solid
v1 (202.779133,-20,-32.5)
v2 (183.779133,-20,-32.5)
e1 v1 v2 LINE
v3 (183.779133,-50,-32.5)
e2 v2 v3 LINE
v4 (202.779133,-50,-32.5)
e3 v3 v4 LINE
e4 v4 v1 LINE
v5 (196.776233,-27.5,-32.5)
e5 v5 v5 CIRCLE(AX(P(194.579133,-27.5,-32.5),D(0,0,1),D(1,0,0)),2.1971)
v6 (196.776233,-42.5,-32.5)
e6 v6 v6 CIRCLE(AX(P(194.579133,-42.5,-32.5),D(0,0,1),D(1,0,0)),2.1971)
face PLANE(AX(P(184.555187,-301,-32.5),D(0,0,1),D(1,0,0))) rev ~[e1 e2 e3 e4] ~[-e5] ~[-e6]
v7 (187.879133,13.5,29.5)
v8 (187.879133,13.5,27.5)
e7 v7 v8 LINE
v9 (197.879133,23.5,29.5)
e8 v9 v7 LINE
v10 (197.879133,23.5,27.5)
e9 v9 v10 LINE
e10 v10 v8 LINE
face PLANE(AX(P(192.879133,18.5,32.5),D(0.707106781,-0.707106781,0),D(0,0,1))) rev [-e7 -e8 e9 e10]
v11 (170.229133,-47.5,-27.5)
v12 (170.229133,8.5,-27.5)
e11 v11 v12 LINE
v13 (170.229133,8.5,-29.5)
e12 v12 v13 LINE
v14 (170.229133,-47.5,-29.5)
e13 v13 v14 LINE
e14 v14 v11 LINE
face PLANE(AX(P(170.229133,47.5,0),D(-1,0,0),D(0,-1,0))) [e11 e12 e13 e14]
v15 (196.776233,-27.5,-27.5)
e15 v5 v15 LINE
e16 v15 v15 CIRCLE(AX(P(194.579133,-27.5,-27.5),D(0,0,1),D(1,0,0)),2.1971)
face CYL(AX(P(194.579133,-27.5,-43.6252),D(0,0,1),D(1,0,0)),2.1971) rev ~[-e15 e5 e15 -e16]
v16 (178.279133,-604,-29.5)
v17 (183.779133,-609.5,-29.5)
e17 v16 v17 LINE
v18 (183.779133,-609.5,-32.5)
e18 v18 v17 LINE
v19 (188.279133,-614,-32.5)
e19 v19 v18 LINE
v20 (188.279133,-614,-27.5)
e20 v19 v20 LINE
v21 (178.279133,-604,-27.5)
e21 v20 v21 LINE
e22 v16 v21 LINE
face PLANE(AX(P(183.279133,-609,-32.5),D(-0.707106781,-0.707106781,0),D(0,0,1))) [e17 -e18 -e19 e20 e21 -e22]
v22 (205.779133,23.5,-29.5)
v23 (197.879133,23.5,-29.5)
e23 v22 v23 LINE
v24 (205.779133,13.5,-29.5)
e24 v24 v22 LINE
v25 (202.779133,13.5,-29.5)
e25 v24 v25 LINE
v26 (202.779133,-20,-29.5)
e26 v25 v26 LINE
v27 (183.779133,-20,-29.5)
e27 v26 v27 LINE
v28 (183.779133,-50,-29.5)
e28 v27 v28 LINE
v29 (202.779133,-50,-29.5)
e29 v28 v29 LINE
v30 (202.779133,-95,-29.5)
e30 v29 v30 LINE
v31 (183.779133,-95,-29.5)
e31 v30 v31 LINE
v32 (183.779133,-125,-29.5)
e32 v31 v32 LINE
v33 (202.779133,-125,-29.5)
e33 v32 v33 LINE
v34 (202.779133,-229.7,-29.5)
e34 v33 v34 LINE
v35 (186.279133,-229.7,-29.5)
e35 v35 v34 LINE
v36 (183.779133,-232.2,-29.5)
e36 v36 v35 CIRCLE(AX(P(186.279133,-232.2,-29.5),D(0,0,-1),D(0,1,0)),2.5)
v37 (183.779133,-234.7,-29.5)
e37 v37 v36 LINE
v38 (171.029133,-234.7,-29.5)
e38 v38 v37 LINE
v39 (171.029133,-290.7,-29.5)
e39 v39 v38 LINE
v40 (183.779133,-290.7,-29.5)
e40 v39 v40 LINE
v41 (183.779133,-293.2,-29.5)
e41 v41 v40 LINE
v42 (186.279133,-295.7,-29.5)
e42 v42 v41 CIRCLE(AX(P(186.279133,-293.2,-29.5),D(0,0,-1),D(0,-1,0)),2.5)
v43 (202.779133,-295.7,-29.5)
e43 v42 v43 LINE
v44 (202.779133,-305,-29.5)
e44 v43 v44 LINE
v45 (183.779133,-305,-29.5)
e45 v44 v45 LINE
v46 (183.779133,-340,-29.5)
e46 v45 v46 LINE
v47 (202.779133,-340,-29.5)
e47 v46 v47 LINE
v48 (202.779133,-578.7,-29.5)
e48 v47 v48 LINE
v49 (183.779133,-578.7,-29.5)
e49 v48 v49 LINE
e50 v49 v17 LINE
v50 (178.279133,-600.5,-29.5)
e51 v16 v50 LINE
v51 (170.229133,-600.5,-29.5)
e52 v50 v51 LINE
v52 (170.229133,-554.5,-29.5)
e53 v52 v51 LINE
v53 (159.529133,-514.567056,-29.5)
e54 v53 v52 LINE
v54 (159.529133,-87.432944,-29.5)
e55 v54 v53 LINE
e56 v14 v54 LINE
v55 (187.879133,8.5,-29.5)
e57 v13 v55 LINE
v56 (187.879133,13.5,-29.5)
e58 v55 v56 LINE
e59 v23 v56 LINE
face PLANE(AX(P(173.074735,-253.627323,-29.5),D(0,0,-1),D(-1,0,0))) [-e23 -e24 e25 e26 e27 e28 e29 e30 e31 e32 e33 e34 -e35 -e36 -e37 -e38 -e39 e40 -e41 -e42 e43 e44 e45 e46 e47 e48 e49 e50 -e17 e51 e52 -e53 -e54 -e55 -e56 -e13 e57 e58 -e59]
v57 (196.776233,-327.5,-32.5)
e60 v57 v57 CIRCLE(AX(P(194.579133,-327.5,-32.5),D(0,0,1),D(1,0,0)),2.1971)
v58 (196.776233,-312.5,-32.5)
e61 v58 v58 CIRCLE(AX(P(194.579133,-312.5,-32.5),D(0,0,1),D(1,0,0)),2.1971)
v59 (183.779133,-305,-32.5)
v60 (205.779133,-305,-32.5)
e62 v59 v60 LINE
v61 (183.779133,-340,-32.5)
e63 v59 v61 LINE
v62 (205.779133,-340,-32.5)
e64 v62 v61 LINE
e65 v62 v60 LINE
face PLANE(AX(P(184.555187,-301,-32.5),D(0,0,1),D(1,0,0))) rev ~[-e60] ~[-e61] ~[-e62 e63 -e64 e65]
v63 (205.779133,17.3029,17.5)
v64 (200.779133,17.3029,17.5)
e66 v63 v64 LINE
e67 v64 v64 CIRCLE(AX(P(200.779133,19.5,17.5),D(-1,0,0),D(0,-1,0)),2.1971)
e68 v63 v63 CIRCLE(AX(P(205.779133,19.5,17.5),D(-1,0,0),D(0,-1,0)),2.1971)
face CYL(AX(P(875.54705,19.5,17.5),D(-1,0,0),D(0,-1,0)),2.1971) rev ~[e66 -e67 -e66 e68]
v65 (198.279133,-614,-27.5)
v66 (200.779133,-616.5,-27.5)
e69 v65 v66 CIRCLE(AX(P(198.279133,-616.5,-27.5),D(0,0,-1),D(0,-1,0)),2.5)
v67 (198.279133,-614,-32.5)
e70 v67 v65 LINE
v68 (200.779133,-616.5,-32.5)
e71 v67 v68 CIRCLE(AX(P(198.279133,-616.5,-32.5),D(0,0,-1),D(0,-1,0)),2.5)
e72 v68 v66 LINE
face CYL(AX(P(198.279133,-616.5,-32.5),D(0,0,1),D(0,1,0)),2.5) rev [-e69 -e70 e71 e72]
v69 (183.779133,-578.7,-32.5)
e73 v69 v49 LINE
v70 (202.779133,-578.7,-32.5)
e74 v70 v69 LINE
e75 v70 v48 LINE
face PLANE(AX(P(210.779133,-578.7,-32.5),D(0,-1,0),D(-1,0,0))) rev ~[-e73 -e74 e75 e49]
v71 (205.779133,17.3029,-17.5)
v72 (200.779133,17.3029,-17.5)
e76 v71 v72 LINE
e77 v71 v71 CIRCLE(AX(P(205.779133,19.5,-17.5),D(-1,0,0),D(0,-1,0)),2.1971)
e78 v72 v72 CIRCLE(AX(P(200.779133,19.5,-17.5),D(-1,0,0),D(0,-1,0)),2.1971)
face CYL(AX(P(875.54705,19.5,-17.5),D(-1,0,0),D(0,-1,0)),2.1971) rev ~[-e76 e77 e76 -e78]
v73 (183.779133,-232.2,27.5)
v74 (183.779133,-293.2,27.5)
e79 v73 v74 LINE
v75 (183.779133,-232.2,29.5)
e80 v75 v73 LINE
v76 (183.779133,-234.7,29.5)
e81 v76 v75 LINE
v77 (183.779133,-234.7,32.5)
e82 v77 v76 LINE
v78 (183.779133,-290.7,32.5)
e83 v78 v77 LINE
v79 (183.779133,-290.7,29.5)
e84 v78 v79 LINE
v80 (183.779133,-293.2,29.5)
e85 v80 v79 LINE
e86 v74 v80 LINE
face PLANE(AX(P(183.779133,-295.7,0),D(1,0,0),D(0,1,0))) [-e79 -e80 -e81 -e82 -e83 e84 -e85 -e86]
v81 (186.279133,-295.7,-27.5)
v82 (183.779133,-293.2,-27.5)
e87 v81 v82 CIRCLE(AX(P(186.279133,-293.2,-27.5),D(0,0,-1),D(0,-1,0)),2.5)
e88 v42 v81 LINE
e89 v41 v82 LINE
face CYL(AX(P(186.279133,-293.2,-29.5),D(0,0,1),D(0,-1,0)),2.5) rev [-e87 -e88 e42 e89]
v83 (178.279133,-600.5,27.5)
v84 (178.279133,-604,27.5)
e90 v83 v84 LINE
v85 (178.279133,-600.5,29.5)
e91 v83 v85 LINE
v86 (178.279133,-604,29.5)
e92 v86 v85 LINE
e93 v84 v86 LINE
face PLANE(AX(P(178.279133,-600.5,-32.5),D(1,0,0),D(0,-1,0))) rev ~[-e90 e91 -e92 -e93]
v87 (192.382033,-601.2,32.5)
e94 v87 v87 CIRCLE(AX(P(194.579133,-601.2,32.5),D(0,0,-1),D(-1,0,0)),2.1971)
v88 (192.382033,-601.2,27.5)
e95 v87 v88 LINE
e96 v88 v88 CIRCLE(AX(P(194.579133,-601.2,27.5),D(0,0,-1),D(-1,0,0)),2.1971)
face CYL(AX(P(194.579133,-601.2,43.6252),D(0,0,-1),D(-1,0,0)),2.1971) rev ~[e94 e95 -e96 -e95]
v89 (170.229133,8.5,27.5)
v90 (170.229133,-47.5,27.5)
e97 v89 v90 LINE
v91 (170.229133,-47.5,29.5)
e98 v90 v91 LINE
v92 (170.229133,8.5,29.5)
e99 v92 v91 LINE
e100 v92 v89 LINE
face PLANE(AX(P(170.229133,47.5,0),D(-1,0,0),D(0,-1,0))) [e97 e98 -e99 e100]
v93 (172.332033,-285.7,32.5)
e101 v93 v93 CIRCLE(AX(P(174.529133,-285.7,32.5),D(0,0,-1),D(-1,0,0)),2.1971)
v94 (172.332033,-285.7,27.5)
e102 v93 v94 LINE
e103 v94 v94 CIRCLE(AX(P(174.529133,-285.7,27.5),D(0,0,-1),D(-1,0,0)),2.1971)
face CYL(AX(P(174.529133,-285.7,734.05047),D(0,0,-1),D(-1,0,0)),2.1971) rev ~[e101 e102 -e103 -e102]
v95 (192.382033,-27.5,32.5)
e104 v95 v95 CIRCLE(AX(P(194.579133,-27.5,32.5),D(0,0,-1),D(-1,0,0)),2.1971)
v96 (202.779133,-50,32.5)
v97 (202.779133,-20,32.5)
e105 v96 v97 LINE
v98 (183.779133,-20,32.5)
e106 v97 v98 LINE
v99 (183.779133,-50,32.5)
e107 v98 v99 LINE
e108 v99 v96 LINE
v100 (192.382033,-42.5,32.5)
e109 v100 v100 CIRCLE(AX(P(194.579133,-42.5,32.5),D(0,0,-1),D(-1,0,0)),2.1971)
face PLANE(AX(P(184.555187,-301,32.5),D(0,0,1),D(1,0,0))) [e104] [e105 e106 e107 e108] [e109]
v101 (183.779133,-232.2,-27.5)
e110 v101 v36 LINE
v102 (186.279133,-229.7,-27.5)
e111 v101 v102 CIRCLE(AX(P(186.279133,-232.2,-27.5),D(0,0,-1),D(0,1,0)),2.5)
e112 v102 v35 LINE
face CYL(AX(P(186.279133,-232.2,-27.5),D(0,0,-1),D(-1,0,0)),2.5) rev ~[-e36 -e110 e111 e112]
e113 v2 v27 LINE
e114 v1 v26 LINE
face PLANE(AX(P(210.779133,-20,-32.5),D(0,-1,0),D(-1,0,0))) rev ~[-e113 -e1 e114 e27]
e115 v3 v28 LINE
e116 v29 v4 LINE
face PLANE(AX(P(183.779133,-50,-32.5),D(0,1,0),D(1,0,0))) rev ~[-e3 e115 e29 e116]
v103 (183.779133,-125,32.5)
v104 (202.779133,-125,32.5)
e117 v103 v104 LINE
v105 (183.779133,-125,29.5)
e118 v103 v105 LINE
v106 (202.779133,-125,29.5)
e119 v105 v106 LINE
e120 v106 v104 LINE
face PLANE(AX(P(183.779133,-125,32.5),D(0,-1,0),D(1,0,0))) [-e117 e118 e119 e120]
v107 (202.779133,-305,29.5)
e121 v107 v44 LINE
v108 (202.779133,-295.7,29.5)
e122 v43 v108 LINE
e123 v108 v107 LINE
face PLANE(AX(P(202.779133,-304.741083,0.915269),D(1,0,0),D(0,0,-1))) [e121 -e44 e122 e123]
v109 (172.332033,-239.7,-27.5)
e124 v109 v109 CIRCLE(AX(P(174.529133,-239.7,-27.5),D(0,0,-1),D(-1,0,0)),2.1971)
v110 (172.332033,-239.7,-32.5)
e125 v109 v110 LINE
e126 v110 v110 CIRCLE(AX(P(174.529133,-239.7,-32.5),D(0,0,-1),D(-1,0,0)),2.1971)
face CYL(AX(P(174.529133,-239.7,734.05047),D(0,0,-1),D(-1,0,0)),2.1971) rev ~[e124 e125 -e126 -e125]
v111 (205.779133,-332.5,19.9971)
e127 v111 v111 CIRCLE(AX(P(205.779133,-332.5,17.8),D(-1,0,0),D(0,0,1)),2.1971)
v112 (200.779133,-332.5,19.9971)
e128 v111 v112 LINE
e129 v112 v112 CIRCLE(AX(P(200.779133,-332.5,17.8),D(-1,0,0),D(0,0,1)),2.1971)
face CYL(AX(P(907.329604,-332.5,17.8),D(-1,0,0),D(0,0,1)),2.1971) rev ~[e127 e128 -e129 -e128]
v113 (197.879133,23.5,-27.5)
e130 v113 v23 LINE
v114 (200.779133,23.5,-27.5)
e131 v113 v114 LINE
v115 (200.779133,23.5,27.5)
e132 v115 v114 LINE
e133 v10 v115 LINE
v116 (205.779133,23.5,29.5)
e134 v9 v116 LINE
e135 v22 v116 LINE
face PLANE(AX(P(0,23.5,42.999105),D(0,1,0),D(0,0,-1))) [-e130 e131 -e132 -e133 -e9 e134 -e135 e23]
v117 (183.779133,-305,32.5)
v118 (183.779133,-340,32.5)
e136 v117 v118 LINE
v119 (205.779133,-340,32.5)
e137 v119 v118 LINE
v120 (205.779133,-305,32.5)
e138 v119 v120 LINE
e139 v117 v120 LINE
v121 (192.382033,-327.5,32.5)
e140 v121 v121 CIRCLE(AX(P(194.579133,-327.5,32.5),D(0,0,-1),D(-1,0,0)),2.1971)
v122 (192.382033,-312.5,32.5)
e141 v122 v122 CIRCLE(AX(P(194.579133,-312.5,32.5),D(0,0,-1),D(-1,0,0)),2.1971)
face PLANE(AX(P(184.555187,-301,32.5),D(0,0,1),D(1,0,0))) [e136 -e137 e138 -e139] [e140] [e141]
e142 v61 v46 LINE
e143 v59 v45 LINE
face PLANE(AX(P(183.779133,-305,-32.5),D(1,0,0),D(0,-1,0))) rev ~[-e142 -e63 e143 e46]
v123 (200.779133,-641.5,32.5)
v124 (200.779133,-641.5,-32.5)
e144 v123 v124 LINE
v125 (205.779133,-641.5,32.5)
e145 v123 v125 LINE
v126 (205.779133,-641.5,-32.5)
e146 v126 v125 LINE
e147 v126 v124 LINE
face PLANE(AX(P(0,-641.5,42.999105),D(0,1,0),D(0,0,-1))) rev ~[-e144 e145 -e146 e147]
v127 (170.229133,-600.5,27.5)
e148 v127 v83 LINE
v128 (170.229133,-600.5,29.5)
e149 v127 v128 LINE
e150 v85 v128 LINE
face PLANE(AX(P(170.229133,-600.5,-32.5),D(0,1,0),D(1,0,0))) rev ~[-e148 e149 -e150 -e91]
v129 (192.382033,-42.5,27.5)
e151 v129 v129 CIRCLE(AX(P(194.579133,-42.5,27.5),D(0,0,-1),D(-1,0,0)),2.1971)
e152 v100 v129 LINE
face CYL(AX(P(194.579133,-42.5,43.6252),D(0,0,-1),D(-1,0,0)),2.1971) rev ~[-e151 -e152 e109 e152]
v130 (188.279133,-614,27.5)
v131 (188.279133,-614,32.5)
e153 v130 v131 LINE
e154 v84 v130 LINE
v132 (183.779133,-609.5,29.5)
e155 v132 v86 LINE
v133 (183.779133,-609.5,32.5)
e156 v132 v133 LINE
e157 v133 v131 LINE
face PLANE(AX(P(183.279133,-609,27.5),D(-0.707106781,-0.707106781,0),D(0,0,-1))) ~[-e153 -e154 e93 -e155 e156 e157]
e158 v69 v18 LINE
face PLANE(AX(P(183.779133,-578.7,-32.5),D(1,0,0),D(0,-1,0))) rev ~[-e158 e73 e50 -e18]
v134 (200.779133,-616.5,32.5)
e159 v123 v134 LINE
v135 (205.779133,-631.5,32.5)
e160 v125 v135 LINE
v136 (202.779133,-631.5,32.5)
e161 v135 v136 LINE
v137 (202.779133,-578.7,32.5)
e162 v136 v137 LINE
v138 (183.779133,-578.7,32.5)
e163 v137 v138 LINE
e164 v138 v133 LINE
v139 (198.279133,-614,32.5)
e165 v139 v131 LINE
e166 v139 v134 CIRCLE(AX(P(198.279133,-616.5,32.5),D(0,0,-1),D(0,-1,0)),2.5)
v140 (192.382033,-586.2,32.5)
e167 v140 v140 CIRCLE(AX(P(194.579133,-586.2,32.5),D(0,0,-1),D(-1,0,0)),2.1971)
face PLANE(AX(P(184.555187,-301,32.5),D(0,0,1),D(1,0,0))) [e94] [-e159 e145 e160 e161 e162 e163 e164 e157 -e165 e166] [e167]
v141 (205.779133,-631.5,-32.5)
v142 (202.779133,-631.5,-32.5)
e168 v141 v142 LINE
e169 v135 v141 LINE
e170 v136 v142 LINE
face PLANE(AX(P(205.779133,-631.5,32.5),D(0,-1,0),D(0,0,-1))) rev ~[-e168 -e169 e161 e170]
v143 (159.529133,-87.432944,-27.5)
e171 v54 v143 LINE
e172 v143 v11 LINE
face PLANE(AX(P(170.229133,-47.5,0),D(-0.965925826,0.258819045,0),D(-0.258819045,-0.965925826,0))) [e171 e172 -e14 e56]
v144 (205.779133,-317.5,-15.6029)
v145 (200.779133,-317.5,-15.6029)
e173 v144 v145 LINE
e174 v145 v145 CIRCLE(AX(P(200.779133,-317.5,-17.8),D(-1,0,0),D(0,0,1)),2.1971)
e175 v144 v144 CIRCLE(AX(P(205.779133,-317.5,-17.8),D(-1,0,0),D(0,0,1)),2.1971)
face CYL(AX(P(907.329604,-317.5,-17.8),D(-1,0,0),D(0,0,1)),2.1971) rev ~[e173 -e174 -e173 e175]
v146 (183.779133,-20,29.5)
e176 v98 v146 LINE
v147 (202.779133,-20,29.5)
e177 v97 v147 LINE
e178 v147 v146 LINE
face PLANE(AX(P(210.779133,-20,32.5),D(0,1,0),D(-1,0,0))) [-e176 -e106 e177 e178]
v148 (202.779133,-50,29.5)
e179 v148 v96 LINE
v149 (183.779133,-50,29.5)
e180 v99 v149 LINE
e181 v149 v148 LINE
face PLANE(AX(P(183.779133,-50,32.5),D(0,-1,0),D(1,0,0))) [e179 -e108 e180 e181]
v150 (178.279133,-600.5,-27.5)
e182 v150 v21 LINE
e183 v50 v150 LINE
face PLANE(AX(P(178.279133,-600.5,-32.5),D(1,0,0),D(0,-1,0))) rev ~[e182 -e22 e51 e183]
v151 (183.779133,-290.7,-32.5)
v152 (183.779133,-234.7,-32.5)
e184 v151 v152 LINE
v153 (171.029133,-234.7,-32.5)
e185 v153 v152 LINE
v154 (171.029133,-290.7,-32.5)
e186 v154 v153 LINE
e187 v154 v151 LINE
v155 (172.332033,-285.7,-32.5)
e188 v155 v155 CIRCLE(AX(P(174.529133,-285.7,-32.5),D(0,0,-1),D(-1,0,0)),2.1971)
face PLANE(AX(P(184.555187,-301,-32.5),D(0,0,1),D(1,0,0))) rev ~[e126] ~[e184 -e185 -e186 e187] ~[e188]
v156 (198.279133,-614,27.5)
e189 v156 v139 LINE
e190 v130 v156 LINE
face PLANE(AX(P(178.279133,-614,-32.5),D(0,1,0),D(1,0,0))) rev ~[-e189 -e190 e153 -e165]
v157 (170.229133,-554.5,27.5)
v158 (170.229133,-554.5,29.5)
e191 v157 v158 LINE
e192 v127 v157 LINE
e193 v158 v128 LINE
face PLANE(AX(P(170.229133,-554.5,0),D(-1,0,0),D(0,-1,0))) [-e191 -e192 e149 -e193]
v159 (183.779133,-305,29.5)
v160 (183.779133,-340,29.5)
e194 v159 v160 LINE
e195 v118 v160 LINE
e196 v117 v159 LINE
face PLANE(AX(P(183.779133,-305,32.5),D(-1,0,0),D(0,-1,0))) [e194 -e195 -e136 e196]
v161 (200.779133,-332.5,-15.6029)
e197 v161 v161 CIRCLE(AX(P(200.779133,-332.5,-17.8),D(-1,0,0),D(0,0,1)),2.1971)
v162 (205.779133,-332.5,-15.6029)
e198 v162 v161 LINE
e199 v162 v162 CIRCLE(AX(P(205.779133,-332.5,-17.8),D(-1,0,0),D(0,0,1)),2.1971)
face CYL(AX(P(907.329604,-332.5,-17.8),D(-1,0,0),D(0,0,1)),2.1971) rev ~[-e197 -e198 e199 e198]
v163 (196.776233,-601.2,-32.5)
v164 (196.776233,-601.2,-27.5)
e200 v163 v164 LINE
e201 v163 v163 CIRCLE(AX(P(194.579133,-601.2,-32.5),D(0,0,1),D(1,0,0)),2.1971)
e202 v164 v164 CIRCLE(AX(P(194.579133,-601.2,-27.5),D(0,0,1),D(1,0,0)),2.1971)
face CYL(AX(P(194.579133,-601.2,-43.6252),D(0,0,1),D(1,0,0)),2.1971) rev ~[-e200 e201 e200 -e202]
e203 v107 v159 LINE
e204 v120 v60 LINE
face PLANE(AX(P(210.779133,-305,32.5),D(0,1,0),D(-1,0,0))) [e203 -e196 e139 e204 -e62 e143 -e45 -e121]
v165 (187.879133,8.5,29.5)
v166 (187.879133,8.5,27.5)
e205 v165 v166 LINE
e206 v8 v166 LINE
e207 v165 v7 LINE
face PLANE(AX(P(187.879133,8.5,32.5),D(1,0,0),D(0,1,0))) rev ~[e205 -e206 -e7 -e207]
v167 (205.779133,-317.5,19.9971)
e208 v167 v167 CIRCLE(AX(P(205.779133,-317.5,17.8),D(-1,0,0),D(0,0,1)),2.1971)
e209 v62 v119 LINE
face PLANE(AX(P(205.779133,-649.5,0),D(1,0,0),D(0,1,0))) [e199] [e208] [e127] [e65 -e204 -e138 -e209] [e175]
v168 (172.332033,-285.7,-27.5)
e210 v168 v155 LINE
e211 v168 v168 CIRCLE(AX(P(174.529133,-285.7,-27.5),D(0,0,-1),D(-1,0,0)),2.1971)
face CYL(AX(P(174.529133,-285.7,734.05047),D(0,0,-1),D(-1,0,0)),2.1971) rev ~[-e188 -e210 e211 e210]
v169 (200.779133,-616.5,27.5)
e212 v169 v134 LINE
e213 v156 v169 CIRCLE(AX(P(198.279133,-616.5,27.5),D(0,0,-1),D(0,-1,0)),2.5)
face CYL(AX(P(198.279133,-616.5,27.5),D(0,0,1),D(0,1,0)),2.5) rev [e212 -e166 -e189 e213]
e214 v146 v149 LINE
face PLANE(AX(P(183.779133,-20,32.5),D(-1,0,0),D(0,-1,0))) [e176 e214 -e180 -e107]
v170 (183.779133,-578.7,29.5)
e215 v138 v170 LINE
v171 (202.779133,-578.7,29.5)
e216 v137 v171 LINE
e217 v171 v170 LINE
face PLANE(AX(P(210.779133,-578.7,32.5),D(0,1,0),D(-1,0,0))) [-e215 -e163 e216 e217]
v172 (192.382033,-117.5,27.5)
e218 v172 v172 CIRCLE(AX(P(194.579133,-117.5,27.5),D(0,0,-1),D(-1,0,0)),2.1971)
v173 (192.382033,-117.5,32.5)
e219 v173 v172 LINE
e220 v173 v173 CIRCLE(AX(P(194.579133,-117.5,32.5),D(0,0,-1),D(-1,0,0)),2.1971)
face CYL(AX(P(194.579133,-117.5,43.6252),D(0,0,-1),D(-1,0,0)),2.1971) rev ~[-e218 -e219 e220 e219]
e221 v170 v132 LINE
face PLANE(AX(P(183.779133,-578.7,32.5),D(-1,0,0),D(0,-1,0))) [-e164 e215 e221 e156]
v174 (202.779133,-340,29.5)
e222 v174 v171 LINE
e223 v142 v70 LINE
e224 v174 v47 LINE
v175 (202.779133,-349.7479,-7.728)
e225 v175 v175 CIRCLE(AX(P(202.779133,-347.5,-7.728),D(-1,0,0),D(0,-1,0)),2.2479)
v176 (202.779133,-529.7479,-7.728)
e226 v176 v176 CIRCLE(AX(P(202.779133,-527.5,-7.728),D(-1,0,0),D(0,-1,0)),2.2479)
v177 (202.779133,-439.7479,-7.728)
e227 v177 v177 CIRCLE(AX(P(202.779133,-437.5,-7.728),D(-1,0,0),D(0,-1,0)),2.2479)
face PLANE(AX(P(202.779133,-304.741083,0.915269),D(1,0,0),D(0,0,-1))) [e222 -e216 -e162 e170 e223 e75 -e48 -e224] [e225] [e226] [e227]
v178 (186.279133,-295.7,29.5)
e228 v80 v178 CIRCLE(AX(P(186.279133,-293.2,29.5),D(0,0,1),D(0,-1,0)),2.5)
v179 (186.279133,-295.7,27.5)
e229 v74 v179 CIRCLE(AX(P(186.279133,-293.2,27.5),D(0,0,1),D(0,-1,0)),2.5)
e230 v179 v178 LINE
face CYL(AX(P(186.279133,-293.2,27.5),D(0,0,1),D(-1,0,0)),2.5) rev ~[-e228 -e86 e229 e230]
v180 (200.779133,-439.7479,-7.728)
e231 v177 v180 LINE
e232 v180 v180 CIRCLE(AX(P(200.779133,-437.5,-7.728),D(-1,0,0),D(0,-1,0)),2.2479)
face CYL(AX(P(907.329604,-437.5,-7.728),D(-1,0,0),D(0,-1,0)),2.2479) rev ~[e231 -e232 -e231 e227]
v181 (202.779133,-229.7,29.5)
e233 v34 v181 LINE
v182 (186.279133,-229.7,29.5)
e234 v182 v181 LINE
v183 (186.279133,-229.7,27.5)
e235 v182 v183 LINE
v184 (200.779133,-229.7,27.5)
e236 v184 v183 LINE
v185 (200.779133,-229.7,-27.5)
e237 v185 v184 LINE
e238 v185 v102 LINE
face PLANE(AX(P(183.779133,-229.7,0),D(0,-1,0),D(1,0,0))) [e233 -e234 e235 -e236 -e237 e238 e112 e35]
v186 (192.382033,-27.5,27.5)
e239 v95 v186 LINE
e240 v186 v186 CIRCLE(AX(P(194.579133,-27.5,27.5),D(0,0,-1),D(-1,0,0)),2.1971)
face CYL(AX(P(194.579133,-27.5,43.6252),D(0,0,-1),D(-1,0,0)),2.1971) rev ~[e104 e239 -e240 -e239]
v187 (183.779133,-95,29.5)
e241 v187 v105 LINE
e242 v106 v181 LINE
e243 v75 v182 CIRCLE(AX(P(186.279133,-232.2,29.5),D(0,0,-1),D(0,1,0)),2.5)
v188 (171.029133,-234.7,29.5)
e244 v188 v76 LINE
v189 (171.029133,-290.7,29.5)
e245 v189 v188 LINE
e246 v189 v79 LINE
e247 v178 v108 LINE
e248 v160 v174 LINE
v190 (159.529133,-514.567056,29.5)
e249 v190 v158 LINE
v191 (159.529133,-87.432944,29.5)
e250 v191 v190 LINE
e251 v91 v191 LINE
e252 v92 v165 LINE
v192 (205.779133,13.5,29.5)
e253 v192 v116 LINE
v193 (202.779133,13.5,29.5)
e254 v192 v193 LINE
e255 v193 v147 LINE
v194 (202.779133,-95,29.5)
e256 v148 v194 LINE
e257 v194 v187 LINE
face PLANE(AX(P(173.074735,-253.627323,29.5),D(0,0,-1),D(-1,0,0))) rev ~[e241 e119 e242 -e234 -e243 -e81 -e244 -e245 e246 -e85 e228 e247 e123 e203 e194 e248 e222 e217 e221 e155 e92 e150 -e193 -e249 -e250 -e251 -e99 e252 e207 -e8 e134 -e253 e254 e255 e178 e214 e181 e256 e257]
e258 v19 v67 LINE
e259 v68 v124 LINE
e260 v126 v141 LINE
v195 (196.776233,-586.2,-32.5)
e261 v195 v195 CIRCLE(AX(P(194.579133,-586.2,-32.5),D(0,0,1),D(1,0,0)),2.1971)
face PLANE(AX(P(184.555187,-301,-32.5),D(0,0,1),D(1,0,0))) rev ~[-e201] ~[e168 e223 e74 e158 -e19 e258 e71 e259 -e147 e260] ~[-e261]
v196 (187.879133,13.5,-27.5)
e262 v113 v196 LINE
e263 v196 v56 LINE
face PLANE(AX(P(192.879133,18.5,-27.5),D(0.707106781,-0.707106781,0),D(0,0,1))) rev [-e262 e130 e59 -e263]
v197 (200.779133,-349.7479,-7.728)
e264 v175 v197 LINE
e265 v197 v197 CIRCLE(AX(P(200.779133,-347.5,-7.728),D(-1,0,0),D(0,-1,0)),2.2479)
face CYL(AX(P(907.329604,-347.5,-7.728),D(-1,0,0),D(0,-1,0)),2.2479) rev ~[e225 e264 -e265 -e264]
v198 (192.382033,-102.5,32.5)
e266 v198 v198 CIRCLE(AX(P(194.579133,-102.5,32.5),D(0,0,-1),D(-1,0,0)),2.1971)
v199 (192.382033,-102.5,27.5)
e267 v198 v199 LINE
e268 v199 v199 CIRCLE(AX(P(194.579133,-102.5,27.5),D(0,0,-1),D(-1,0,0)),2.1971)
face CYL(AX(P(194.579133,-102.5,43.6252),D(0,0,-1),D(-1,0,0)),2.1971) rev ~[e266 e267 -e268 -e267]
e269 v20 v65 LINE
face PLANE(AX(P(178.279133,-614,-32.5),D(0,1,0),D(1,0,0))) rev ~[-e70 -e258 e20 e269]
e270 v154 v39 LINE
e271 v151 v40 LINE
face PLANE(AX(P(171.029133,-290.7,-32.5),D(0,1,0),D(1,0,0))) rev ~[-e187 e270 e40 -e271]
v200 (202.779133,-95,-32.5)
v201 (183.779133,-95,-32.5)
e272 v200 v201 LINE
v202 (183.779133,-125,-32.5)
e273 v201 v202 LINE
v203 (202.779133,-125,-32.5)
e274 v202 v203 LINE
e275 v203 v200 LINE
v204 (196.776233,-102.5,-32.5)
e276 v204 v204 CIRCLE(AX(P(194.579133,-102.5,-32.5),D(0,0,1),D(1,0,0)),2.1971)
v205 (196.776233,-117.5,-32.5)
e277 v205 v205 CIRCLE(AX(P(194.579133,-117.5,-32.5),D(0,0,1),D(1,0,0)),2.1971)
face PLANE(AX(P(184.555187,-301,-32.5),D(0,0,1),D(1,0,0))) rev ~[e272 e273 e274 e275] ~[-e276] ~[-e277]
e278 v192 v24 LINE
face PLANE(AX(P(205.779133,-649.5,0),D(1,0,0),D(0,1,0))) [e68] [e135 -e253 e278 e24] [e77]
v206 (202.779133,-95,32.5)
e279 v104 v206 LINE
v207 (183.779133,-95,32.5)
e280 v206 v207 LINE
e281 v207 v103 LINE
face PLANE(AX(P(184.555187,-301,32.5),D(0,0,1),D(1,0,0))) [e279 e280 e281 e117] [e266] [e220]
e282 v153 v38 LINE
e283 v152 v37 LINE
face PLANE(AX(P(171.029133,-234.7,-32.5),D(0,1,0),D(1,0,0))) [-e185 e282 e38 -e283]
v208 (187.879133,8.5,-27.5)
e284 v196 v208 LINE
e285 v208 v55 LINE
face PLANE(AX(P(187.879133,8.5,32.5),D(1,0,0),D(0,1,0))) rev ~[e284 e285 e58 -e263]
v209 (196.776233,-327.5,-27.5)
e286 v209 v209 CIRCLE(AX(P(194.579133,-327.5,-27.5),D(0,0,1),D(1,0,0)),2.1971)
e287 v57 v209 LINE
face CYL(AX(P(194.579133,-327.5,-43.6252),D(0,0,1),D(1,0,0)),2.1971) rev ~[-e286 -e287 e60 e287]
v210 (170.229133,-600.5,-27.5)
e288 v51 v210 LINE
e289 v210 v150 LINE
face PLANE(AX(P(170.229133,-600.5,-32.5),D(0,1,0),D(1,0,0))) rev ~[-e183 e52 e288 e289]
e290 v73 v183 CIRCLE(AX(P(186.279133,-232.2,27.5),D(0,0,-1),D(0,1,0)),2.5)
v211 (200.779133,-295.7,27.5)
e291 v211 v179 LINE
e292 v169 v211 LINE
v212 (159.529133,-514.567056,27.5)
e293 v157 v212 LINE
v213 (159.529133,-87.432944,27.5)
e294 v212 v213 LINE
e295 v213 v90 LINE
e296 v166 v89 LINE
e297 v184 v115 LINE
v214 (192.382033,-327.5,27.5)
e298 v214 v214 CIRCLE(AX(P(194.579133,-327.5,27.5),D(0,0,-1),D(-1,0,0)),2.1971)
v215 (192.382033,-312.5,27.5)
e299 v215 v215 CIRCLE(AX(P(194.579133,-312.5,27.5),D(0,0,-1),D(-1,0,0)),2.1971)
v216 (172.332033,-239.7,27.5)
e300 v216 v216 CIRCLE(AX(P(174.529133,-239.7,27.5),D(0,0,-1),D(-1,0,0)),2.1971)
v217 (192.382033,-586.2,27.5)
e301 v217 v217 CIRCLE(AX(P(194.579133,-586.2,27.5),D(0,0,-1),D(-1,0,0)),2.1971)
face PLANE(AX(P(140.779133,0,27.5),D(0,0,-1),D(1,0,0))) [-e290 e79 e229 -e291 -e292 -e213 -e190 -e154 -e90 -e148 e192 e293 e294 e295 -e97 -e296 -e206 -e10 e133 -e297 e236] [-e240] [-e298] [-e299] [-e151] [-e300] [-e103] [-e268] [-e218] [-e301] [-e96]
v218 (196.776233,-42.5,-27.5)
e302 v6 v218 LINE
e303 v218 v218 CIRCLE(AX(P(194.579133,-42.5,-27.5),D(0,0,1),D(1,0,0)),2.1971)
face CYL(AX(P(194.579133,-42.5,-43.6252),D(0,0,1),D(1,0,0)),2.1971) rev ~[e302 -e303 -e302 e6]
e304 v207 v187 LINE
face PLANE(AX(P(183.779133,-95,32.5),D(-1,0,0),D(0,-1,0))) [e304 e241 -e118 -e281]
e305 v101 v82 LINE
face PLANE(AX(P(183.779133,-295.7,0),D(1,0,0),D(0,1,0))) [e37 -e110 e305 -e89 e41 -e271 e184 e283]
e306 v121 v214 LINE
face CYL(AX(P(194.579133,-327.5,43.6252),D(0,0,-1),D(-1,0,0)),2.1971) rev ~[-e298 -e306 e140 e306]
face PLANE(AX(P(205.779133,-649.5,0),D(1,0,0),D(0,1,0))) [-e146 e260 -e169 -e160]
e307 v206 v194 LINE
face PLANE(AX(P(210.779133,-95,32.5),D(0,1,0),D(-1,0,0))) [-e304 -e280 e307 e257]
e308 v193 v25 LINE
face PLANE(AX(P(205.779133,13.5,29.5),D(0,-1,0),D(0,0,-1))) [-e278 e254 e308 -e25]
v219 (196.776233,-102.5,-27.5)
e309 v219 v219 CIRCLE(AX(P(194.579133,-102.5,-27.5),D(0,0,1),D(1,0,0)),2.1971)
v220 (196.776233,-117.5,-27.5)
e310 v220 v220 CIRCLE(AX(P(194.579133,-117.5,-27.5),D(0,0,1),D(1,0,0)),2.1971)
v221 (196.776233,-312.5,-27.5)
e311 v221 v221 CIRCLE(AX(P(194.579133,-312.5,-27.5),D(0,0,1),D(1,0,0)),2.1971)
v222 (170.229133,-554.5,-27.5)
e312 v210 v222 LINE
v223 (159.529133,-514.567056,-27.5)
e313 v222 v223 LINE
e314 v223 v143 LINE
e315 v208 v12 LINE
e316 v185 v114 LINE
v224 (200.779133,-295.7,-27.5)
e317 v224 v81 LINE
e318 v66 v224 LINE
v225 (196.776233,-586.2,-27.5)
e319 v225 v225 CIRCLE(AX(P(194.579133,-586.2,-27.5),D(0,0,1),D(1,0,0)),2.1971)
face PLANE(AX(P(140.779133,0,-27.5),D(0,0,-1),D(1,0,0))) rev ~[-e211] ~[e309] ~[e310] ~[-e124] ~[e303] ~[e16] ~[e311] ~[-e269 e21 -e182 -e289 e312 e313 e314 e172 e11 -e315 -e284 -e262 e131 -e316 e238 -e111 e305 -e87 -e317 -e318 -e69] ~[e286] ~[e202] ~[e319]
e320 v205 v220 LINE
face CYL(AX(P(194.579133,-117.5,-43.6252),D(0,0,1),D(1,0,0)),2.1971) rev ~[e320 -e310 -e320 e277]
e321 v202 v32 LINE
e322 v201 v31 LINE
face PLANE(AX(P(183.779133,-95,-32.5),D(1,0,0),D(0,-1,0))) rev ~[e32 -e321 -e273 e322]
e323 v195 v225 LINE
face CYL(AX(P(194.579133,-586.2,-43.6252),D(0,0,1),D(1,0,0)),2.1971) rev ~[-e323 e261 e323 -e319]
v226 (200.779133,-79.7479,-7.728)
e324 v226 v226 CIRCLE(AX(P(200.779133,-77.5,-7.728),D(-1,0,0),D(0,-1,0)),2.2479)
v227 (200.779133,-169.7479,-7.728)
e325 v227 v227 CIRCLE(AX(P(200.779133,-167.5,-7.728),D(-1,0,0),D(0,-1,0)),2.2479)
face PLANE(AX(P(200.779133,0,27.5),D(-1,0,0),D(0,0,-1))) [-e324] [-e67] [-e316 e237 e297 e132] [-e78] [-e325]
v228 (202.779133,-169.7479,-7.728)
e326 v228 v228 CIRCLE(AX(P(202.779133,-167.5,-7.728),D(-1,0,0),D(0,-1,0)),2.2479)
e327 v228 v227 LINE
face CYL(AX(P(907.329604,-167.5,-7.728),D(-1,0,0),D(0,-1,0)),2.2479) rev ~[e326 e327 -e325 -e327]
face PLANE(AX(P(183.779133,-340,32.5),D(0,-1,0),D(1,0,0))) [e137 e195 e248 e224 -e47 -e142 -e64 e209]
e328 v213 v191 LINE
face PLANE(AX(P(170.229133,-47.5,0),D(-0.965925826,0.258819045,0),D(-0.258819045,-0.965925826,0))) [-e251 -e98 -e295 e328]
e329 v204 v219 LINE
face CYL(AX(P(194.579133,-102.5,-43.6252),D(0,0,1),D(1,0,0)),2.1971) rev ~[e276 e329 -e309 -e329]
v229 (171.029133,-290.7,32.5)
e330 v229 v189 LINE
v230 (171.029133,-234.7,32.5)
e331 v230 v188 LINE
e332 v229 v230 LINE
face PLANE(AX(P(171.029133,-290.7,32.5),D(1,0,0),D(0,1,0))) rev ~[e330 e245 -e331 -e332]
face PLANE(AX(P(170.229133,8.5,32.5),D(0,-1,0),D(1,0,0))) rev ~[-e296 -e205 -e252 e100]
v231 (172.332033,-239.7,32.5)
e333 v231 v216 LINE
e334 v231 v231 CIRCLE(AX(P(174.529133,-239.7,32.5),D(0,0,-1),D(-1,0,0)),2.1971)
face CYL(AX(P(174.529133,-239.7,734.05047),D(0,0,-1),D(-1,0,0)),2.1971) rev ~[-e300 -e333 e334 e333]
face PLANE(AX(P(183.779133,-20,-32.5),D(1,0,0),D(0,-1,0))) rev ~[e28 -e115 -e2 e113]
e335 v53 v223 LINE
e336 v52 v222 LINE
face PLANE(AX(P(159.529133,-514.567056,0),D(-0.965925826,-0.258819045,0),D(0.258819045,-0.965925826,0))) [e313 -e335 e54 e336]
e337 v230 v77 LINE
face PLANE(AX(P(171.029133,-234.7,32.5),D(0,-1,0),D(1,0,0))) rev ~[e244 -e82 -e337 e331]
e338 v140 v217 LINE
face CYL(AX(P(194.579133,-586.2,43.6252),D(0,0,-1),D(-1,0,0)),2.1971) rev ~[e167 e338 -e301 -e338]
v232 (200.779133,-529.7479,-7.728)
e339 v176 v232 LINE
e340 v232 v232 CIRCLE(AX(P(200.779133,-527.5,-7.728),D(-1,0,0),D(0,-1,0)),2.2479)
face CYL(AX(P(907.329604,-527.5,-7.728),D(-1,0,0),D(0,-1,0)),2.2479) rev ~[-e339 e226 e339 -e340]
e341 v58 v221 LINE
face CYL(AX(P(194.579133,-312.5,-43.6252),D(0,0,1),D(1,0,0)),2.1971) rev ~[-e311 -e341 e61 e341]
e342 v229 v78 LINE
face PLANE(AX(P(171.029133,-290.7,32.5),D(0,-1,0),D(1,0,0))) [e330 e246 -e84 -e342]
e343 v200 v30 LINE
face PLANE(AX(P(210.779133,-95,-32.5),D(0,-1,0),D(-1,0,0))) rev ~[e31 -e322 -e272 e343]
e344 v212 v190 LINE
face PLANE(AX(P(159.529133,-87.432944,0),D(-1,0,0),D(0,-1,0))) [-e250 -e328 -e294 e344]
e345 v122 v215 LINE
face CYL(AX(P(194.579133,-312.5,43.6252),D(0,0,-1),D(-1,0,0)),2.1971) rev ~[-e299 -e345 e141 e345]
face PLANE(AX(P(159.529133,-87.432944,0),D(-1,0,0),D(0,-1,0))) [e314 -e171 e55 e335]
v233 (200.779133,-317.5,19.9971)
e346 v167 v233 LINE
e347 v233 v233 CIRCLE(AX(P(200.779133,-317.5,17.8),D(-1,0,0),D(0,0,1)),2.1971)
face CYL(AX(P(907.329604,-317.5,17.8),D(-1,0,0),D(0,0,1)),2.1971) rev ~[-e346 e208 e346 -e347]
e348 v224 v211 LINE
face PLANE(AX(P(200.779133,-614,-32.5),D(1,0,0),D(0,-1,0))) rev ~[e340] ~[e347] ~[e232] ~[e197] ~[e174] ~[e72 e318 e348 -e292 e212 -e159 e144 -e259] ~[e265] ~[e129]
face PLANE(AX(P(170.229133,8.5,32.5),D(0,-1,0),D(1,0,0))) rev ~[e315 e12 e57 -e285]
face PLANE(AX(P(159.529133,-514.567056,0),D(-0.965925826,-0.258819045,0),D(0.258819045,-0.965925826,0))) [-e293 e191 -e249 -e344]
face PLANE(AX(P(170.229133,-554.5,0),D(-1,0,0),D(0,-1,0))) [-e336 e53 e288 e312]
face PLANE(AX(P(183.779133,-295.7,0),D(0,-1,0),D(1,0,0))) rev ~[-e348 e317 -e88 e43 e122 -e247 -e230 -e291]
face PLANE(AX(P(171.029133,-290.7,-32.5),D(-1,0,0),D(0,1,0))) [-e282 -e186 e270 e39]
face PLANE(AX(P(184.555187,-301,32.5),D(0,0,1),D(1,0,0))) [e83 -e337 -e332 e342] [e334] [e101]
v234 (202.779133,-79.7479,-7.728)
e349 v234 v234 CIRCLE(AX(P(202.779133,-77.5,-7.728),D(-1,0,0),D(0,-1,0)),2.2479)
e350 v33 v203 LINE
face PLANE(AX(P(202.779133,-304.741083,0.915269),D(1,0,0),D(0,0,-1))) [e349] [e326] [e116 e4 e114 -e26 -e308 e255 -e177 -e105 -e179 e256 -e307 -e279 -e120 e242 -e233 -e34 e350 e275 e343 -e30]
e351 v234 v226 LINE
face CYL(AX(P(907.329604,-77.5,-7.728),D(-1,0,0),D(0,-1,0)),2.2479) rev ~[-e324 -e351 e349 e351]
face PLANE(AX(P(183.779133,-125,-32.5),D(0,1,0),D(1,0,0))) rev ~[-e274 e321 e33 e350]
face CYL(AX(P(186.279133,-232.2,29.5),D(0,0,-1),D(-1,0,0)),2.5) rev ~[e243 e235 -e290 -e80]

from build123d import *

# Parameters (mm, degrees)
EXTRUDE1_DEPTH                       = 32.5
SKETCH3_W                            = 60
SKETCH3_H                            = 55
CUT_EXTRUDE1_DEPTH                   = 48.5
CUT_EXTRUDE1_DEPTH_BACK              = 650.5
SKETCH4_W                            = 25.25
SKETCH4_H                            = 66
CUT_EXTRUDE2_DEPTH                   = 35
F_8_CLEARANCE_HOLE1_D                = 4.4958
LPATTERN1_COUNT                      = 7
LPATTERN1_PITCH                      = 90
TAPPED_HOLE_FOR_8_32_HELICOIL2_D     = 4.3942
TAPPED_HOLE_FOR_8_32_HELICOIL2_DEPTH = 11.1252
TAPPED_HOLE_FOR_8_32_HELICOIL2_TIP   = 1.320150866
TAPPED_HOLE_FOR_8_32_HELICOIL6_D     = 4.3942
TAPPED_HOLE_FOR_8_32_HELICOIL6_DEPTH = 11.1252
TAPPED_HOLE_FOR_8_32_HELICOIL6_TIP   = 1.320150866
TAPPED_HOLE_FOR_8_32_HELICOIL3_D     = 4.3942
TAPPED_HOLE_FOR_8_32_HELICOIL4_D     = 4.3942
SKETCH35_W                           = 83.352933337
SKETCH35_H                           = 26
SKETCH35_H_2                         = 10
EXTRUDE18_DEPTH                      = 206.779133429
TAPPED_HOLE_FOR_8_32_HELICOIL5_D     = 4.3942
CUT_EXTRUDE4_DEPTH                   = 66
CHAMFER1_SIZE                        = 10
SKETCH38_W                           = 17.65
SKETCH38_H                           = 15
CUT_EXTRUDE5_DEPTH                   = 66
CHAMFER2_SIZE                        = 10
CUT_EXTRUDE13_START                  = 32.5
SKETCH40_W                           = 12.75
SKETCH40_H                           = 56
CUT_EXTRUDE13_DEPTH                  = 3
CUT_EXTRUDE14_START                  = -32.5
SKETCH40_3_W                         = 12.75
SKETCH40_3_H                         = 56
CUT_EXTRUDE14_DEPTH                  = 3
SKETCH42_W                           = 91.864816585
SKETCH42_H                           = 689.904772547
SKETCH42_W_2                         = 59
SKETCH42_H_2                         = 10
SKETCH42_W_3                         = 65
SKETCH42_H_3                         = 35
CUT_EXTRUDE15_DEPTH                  = 3
FILLET2_R                            = 2.5


with BuildPart() as part:
    # Sketch2 → Extrude1 (new body, symmetric)
    with BuildSketch(Plane.XY):
        Polygon((170.229133429, 47.5), (170.229133429, -47.5), (159.529133429, -87.432943641), (159.529133429, -514.567056359), (170.229133429, -554.5), (170.229133429, -649.5), (205.779133429, -649.5), (205.779133429, 47.5), align=None)
    extrude(amount=EXTRUDE1_DEPTH, both=True)

    # Sketch3 → Cut-Extrude1 (cut, two sides)
    with BuildSketch(Plane(origin=(0, 0, 0), x_dir=(1, 0, 0), z_dir=(0, 1, 0))) as cut_extrude1_sk:
        with Locations((170.779133429, 0)):
            Rectangle(SKETCH3_W, SKETCH3_H)
    extrude(amount=CUT_EXTRUDE1_DEPTH, mode=Mode.SUBTRACT)
    extrude(cut_extrude1_sk.sketch, amount=-CUT_EXTRUDE1_DEPTH_BACK, mode=Mode.SUBTRACT)

    # Sketch4 → Cut-Extrude2 (cut, symmetric)
    with BuildSketch(Plane.XY):
        with Locations((196.404133429, -262.7)):
            Rectangle(SKETCH4_W, SKETCH4_H)
    extrude(amount=CUT_EXTRUDE2_DEPTH, both=True, mode=Mode.SUBTRACT)

    # 8 Clearance Hole1 (through all)
    with Locations(Plane(origin=(205.779133429, -77.5, -7.728), x_dir=(0, 1, 0), z_dir=(1, 0, 0))):
        with Locations((0, 0)):
            f_8_clearance_hole1 = Hole(F_8_CLEARANCE_HOLE1_D / 2)

    # LPattern1: 8 Clearance Hole1 ×7, 2 skipped
    with Locations(*[(0, -i * LPATTERN1_PITCH, 0) for i in range(1, LPATTERN1_COUNT) if i not in (2, 6)]):
        add(f_8_clearance_hole1, mode=Mode.SUBTRACT)

    # Tapped Hole for _8-32 Helicoil2
    with Locations(Plane(origin=(194.579133429, -27.5, 32.5), x_dir=(1, 0, 0), z_dir=(0, 0, 1))):
        with Locations((0, 0), (0, -15), (0, -75), (0, -90), (0, -285), (0, -300), (0, -558.7), (0, -573.7)):
            Hole(TAPPED_HOLE_FOR_8_32_HELICOIL2_D / 2, depth=TAPPED_HOLE_FOR_8_32_HELICOIL2_DEPTH)
            with Locations((0, 0, -(TAPPED_HOLE_FOR_8_32_HELICOIL2_DEPTH + TAPPED_HOLE_FOR_8_32_HELICOIL2_TIP / 2))):  # 118° drill point
                Cone(0, TAPPED_HOLE_FOR_8_32_HELICOIL2_D / 2, TAPPED_HOLE_FOR_8_32_HELICOIL2_TIP, mode=Mode.SUBTRACT)

    # Tapped Hole for _8-32 Helicoil6
    with Locations(Plane(origin=(0, 0, -32.5), x_dir=(-1, 0, 0), z_dir=(0, 0, -1))):
        with Locations((-194.579133429, -27.5), (-194.579133429, -42.5), (-194.579133429, -102.5), (-194.579133429, -117.5), (-194.579133429, -312.5), (-194.579133429, -327.5), (-194.579133429, -586.2), (-194.579133429, -601.2)):
            Hole(TAPPED_HOLE_FOR_8_32_HELICOIL6_D / 2, depth=TAPPED_HOLE_FOR_8_32_HELICOIL6_DEPTH)
            with Locations((0, 0, -(TAPPED_HOLE_FOR_8_32_HELICOIL6_DEPTH + TAPPED_HOLE_FOR_8_32_HELICOIL6_TIP / 2))):  # 118° drill point
                Cone(0, TAPPED_HOLE_FOR_8_32_HELICOIL6_D / 2, TAPPED_HOLE_FOR_8_32_HELICOIL6_TIP, mode=Mode.SUBTRACT)

    # Tapped Hole for _8-32 Helicoil3 (through all)
    with Locations(Plane(origin=(205.779133429, 0, 0), x_dir=(0, 0, -1), z_dir=(1, 0, 0))):
        with Locations((-17.8, -317.5), (17.8, -317.5), (-17.8, -332.5), (17.8, -332.5)):
            Hole(TAPPED_HOLE_FOR_8_32_HELICOIL3_D / 2)

    # Tapped Hole for _8-32 Helicoil4 (through all)
    with Locations(Plane(origin=(174.529133429, -239.7, 32.5), x_dir=(1, 0, 0), z_dir=(0, 0, 1))):
        with Locations((0, 0), (0, -46)):
            Hole(TAPPED_HOLE_FOR_8_32_HELICOIL4_D / 2)

    # Sketch35 → Extrude18 (cut, through all)
    with BuildSketch(Plane(origin=(0, 0, 0), x_dir=(0, 0, -1), z_dir=(1, 0, 0))):
        with Locations((-1.322638192, 36.5)):
            Rectangle(SKETCH35_W, SKETCH35_H)
        with Locations((-1.322638192, -646.5)):
            Rectangle(SKETCH35_W, SKETCH35_H_2)
    extrude(amount=EXTRUDE18_DEPTH, mode=Mode.SUBTRACT)

    # Tapped Hole for _8-32 Helicoil5 (through all)
    with Locations(Plane(origin=(205.779133429, 19.5, 17.5), x_dir=(0, 1, 0), z_dir=(1, 0, 0))):
        with Locations((0, 0), (0, -35)):
            Hole(TAPPED_HOLE_FOR_8_32_HELICOIL5_D / 2)

    # Sketch37 → Cut-Extrude4 (cut, through all)
    with BuildSketch(Plane(origin=(0, 0, -32.5), x_dir=(-1, 0, 0), z_dir=(0, 0, -1))):
        Polygon((-200.779133429, -641.5), (-170.229133429, -641.5), (-170.229133429, -609.356521994), (-170.229133429, -600.5), (-178.279133429, -600.5), (-178.279133429, -614), (-200.779133429, -614), align=None)
    extrude(amount=-CUT_EXTRUDE4_DEPTH, mode=Mode.SUBTRACT)

    # Chamfer1
    chamfer1_edges = [part.edges().sort_by_distance(p)[0] for p in [
        (178.279133429, -614, -30),
        (178.279133429, -614, 30),
    ]]
    chamfer(chamfer1_edges, length=CHAMFER1_SIZE)

    # Sketch38 → Cut-Extrude5 (cut, through all)
    with BuildSketch(Plane.XY.offset(32.5)):
        with Locations((179.054133429, 16)):
            Rectangle(SKETCH38_W, SKETCH38_H)
    extrude(amount=-CUT_EXTRUDE5_DEPTH, mode=Mode.SUBTRACT)

    # Chamfer2
    chamfer2_edges = [part.edges().sort_by_distance(p)[0] for p in [
        (187.879133429, 23.5, 30),
        (187.879133429, 23.5, -30),
    ]]
    chamfer(chamfer2_edges, length=CHAMFER2_SIZE)

    # Sketch40 → Cut-Extrude13 (cut)
    with BuildSketch(Plane.XY.offset(CUT_EXTRUDE13_START)):
        Polygon((134.931335664, 87.372466397), (210.779133429, 87.372466397), (210.779133429, -20), (183.779133429, -20), (183.779133429, -50), (210.779133429, -50), (210.779133429, -95), (183.779133429, -95), (183.779133429, -125), (210.779133429, -125), (210.779133429, -305), (183.779133429, -305), (183.779133429, -340), (210.779133429, -340), (210.779133429, -578.7), (183.779133429, -578.7), (183.779133429, -616.252685753), (134.931335664, -616.252685753), align=None)
        with Locations((177.404133429, -262.7)):
            Rectangle(SKETCH40_W, SKETCH40_H, mode=Mode.SUBTRACT)
    extrude(amount=-CUT_EXTRUDE13_DEPTH, mode=Mode.SUBTRACT)

    # Sketch40_3 → Cut-Extrude14 (cut)
    with BuildSketch(Plane.XY.offset(CUT_EXTRUDE14_START)):
        Polygon((134.931335664, 87.372466397), (210.779133429, 87.372466397), (210.779133429, -20), (183.779133429, -20), (183.779133429, -50), (210.779133429, -50), (210.779133429, -95), (183.779133429, -95), (183.779133429, -125), (210.779133429, -125), (210.779133429, -305), (183.779133429, -305), (183.779133429, -340), (210.779133429, -340), (210.779133429, -578.7), (183.779133429, -578.7), (183.779133429, -616.252685753), (134.931335664, -616.252685753), align=None)
        with Locations((177.404133429, -262.7)):
            Rectangle(SKETCH40_3_W, SKETCH40_3_H, mode=Mode.SUBTRACT)
    extrude(amount=CUT_EXTRUDE14_DEPTH, mode=Mode.SUBTRACT)

    # Sketch42 → Cut-Extrude15 (cut)
    with BuildSketch(Plane(origin=(205.779133429, 0, 0), x_dir=(0, 0, -1), z_dir=(1, 0, 0))):
        with Locations((-0.915268581, -304.741083254)):
            Rectangle(SKETCH42_W, SKETCH42_H)
        with Locations((0, 18.5)):
            Rectangle(SKETCH42_W_2, SKETCH42_H_2, mode=Mode.SUBTRACT)
        with Locations((0, -322.5)):
            Rectangle(SKETCH42_W_3, SKETCH42_H_3, mode=Mode.SUBTRACT)
        with Locations((0, -636.5)):
            Rectangle(SKETCH42_W_3, SKETCH42_H_2, mode=Mode.SUBTRACT)
    extrude(amount=-CUT_EXTRUDE15_DEPTH, mode=Mode.SUBTRACT)

    # Fillet2
    fillet2_edges = [part.edges().sort_by_distance(p)[0] for p in [
        (200.779133429, -614, -30),
        (200.779133429, -614, 30),
        (183.779133429, -229.7, -28.5),
        (183.779133429, -295.7, -28.5),
        (183.779133429, -295.7, 28.5),
        (183.779133429, -229.7, 28.5),
    ]]
    fillet(fillet2_edges, radius=FILLET2_R)


solid = part.part
